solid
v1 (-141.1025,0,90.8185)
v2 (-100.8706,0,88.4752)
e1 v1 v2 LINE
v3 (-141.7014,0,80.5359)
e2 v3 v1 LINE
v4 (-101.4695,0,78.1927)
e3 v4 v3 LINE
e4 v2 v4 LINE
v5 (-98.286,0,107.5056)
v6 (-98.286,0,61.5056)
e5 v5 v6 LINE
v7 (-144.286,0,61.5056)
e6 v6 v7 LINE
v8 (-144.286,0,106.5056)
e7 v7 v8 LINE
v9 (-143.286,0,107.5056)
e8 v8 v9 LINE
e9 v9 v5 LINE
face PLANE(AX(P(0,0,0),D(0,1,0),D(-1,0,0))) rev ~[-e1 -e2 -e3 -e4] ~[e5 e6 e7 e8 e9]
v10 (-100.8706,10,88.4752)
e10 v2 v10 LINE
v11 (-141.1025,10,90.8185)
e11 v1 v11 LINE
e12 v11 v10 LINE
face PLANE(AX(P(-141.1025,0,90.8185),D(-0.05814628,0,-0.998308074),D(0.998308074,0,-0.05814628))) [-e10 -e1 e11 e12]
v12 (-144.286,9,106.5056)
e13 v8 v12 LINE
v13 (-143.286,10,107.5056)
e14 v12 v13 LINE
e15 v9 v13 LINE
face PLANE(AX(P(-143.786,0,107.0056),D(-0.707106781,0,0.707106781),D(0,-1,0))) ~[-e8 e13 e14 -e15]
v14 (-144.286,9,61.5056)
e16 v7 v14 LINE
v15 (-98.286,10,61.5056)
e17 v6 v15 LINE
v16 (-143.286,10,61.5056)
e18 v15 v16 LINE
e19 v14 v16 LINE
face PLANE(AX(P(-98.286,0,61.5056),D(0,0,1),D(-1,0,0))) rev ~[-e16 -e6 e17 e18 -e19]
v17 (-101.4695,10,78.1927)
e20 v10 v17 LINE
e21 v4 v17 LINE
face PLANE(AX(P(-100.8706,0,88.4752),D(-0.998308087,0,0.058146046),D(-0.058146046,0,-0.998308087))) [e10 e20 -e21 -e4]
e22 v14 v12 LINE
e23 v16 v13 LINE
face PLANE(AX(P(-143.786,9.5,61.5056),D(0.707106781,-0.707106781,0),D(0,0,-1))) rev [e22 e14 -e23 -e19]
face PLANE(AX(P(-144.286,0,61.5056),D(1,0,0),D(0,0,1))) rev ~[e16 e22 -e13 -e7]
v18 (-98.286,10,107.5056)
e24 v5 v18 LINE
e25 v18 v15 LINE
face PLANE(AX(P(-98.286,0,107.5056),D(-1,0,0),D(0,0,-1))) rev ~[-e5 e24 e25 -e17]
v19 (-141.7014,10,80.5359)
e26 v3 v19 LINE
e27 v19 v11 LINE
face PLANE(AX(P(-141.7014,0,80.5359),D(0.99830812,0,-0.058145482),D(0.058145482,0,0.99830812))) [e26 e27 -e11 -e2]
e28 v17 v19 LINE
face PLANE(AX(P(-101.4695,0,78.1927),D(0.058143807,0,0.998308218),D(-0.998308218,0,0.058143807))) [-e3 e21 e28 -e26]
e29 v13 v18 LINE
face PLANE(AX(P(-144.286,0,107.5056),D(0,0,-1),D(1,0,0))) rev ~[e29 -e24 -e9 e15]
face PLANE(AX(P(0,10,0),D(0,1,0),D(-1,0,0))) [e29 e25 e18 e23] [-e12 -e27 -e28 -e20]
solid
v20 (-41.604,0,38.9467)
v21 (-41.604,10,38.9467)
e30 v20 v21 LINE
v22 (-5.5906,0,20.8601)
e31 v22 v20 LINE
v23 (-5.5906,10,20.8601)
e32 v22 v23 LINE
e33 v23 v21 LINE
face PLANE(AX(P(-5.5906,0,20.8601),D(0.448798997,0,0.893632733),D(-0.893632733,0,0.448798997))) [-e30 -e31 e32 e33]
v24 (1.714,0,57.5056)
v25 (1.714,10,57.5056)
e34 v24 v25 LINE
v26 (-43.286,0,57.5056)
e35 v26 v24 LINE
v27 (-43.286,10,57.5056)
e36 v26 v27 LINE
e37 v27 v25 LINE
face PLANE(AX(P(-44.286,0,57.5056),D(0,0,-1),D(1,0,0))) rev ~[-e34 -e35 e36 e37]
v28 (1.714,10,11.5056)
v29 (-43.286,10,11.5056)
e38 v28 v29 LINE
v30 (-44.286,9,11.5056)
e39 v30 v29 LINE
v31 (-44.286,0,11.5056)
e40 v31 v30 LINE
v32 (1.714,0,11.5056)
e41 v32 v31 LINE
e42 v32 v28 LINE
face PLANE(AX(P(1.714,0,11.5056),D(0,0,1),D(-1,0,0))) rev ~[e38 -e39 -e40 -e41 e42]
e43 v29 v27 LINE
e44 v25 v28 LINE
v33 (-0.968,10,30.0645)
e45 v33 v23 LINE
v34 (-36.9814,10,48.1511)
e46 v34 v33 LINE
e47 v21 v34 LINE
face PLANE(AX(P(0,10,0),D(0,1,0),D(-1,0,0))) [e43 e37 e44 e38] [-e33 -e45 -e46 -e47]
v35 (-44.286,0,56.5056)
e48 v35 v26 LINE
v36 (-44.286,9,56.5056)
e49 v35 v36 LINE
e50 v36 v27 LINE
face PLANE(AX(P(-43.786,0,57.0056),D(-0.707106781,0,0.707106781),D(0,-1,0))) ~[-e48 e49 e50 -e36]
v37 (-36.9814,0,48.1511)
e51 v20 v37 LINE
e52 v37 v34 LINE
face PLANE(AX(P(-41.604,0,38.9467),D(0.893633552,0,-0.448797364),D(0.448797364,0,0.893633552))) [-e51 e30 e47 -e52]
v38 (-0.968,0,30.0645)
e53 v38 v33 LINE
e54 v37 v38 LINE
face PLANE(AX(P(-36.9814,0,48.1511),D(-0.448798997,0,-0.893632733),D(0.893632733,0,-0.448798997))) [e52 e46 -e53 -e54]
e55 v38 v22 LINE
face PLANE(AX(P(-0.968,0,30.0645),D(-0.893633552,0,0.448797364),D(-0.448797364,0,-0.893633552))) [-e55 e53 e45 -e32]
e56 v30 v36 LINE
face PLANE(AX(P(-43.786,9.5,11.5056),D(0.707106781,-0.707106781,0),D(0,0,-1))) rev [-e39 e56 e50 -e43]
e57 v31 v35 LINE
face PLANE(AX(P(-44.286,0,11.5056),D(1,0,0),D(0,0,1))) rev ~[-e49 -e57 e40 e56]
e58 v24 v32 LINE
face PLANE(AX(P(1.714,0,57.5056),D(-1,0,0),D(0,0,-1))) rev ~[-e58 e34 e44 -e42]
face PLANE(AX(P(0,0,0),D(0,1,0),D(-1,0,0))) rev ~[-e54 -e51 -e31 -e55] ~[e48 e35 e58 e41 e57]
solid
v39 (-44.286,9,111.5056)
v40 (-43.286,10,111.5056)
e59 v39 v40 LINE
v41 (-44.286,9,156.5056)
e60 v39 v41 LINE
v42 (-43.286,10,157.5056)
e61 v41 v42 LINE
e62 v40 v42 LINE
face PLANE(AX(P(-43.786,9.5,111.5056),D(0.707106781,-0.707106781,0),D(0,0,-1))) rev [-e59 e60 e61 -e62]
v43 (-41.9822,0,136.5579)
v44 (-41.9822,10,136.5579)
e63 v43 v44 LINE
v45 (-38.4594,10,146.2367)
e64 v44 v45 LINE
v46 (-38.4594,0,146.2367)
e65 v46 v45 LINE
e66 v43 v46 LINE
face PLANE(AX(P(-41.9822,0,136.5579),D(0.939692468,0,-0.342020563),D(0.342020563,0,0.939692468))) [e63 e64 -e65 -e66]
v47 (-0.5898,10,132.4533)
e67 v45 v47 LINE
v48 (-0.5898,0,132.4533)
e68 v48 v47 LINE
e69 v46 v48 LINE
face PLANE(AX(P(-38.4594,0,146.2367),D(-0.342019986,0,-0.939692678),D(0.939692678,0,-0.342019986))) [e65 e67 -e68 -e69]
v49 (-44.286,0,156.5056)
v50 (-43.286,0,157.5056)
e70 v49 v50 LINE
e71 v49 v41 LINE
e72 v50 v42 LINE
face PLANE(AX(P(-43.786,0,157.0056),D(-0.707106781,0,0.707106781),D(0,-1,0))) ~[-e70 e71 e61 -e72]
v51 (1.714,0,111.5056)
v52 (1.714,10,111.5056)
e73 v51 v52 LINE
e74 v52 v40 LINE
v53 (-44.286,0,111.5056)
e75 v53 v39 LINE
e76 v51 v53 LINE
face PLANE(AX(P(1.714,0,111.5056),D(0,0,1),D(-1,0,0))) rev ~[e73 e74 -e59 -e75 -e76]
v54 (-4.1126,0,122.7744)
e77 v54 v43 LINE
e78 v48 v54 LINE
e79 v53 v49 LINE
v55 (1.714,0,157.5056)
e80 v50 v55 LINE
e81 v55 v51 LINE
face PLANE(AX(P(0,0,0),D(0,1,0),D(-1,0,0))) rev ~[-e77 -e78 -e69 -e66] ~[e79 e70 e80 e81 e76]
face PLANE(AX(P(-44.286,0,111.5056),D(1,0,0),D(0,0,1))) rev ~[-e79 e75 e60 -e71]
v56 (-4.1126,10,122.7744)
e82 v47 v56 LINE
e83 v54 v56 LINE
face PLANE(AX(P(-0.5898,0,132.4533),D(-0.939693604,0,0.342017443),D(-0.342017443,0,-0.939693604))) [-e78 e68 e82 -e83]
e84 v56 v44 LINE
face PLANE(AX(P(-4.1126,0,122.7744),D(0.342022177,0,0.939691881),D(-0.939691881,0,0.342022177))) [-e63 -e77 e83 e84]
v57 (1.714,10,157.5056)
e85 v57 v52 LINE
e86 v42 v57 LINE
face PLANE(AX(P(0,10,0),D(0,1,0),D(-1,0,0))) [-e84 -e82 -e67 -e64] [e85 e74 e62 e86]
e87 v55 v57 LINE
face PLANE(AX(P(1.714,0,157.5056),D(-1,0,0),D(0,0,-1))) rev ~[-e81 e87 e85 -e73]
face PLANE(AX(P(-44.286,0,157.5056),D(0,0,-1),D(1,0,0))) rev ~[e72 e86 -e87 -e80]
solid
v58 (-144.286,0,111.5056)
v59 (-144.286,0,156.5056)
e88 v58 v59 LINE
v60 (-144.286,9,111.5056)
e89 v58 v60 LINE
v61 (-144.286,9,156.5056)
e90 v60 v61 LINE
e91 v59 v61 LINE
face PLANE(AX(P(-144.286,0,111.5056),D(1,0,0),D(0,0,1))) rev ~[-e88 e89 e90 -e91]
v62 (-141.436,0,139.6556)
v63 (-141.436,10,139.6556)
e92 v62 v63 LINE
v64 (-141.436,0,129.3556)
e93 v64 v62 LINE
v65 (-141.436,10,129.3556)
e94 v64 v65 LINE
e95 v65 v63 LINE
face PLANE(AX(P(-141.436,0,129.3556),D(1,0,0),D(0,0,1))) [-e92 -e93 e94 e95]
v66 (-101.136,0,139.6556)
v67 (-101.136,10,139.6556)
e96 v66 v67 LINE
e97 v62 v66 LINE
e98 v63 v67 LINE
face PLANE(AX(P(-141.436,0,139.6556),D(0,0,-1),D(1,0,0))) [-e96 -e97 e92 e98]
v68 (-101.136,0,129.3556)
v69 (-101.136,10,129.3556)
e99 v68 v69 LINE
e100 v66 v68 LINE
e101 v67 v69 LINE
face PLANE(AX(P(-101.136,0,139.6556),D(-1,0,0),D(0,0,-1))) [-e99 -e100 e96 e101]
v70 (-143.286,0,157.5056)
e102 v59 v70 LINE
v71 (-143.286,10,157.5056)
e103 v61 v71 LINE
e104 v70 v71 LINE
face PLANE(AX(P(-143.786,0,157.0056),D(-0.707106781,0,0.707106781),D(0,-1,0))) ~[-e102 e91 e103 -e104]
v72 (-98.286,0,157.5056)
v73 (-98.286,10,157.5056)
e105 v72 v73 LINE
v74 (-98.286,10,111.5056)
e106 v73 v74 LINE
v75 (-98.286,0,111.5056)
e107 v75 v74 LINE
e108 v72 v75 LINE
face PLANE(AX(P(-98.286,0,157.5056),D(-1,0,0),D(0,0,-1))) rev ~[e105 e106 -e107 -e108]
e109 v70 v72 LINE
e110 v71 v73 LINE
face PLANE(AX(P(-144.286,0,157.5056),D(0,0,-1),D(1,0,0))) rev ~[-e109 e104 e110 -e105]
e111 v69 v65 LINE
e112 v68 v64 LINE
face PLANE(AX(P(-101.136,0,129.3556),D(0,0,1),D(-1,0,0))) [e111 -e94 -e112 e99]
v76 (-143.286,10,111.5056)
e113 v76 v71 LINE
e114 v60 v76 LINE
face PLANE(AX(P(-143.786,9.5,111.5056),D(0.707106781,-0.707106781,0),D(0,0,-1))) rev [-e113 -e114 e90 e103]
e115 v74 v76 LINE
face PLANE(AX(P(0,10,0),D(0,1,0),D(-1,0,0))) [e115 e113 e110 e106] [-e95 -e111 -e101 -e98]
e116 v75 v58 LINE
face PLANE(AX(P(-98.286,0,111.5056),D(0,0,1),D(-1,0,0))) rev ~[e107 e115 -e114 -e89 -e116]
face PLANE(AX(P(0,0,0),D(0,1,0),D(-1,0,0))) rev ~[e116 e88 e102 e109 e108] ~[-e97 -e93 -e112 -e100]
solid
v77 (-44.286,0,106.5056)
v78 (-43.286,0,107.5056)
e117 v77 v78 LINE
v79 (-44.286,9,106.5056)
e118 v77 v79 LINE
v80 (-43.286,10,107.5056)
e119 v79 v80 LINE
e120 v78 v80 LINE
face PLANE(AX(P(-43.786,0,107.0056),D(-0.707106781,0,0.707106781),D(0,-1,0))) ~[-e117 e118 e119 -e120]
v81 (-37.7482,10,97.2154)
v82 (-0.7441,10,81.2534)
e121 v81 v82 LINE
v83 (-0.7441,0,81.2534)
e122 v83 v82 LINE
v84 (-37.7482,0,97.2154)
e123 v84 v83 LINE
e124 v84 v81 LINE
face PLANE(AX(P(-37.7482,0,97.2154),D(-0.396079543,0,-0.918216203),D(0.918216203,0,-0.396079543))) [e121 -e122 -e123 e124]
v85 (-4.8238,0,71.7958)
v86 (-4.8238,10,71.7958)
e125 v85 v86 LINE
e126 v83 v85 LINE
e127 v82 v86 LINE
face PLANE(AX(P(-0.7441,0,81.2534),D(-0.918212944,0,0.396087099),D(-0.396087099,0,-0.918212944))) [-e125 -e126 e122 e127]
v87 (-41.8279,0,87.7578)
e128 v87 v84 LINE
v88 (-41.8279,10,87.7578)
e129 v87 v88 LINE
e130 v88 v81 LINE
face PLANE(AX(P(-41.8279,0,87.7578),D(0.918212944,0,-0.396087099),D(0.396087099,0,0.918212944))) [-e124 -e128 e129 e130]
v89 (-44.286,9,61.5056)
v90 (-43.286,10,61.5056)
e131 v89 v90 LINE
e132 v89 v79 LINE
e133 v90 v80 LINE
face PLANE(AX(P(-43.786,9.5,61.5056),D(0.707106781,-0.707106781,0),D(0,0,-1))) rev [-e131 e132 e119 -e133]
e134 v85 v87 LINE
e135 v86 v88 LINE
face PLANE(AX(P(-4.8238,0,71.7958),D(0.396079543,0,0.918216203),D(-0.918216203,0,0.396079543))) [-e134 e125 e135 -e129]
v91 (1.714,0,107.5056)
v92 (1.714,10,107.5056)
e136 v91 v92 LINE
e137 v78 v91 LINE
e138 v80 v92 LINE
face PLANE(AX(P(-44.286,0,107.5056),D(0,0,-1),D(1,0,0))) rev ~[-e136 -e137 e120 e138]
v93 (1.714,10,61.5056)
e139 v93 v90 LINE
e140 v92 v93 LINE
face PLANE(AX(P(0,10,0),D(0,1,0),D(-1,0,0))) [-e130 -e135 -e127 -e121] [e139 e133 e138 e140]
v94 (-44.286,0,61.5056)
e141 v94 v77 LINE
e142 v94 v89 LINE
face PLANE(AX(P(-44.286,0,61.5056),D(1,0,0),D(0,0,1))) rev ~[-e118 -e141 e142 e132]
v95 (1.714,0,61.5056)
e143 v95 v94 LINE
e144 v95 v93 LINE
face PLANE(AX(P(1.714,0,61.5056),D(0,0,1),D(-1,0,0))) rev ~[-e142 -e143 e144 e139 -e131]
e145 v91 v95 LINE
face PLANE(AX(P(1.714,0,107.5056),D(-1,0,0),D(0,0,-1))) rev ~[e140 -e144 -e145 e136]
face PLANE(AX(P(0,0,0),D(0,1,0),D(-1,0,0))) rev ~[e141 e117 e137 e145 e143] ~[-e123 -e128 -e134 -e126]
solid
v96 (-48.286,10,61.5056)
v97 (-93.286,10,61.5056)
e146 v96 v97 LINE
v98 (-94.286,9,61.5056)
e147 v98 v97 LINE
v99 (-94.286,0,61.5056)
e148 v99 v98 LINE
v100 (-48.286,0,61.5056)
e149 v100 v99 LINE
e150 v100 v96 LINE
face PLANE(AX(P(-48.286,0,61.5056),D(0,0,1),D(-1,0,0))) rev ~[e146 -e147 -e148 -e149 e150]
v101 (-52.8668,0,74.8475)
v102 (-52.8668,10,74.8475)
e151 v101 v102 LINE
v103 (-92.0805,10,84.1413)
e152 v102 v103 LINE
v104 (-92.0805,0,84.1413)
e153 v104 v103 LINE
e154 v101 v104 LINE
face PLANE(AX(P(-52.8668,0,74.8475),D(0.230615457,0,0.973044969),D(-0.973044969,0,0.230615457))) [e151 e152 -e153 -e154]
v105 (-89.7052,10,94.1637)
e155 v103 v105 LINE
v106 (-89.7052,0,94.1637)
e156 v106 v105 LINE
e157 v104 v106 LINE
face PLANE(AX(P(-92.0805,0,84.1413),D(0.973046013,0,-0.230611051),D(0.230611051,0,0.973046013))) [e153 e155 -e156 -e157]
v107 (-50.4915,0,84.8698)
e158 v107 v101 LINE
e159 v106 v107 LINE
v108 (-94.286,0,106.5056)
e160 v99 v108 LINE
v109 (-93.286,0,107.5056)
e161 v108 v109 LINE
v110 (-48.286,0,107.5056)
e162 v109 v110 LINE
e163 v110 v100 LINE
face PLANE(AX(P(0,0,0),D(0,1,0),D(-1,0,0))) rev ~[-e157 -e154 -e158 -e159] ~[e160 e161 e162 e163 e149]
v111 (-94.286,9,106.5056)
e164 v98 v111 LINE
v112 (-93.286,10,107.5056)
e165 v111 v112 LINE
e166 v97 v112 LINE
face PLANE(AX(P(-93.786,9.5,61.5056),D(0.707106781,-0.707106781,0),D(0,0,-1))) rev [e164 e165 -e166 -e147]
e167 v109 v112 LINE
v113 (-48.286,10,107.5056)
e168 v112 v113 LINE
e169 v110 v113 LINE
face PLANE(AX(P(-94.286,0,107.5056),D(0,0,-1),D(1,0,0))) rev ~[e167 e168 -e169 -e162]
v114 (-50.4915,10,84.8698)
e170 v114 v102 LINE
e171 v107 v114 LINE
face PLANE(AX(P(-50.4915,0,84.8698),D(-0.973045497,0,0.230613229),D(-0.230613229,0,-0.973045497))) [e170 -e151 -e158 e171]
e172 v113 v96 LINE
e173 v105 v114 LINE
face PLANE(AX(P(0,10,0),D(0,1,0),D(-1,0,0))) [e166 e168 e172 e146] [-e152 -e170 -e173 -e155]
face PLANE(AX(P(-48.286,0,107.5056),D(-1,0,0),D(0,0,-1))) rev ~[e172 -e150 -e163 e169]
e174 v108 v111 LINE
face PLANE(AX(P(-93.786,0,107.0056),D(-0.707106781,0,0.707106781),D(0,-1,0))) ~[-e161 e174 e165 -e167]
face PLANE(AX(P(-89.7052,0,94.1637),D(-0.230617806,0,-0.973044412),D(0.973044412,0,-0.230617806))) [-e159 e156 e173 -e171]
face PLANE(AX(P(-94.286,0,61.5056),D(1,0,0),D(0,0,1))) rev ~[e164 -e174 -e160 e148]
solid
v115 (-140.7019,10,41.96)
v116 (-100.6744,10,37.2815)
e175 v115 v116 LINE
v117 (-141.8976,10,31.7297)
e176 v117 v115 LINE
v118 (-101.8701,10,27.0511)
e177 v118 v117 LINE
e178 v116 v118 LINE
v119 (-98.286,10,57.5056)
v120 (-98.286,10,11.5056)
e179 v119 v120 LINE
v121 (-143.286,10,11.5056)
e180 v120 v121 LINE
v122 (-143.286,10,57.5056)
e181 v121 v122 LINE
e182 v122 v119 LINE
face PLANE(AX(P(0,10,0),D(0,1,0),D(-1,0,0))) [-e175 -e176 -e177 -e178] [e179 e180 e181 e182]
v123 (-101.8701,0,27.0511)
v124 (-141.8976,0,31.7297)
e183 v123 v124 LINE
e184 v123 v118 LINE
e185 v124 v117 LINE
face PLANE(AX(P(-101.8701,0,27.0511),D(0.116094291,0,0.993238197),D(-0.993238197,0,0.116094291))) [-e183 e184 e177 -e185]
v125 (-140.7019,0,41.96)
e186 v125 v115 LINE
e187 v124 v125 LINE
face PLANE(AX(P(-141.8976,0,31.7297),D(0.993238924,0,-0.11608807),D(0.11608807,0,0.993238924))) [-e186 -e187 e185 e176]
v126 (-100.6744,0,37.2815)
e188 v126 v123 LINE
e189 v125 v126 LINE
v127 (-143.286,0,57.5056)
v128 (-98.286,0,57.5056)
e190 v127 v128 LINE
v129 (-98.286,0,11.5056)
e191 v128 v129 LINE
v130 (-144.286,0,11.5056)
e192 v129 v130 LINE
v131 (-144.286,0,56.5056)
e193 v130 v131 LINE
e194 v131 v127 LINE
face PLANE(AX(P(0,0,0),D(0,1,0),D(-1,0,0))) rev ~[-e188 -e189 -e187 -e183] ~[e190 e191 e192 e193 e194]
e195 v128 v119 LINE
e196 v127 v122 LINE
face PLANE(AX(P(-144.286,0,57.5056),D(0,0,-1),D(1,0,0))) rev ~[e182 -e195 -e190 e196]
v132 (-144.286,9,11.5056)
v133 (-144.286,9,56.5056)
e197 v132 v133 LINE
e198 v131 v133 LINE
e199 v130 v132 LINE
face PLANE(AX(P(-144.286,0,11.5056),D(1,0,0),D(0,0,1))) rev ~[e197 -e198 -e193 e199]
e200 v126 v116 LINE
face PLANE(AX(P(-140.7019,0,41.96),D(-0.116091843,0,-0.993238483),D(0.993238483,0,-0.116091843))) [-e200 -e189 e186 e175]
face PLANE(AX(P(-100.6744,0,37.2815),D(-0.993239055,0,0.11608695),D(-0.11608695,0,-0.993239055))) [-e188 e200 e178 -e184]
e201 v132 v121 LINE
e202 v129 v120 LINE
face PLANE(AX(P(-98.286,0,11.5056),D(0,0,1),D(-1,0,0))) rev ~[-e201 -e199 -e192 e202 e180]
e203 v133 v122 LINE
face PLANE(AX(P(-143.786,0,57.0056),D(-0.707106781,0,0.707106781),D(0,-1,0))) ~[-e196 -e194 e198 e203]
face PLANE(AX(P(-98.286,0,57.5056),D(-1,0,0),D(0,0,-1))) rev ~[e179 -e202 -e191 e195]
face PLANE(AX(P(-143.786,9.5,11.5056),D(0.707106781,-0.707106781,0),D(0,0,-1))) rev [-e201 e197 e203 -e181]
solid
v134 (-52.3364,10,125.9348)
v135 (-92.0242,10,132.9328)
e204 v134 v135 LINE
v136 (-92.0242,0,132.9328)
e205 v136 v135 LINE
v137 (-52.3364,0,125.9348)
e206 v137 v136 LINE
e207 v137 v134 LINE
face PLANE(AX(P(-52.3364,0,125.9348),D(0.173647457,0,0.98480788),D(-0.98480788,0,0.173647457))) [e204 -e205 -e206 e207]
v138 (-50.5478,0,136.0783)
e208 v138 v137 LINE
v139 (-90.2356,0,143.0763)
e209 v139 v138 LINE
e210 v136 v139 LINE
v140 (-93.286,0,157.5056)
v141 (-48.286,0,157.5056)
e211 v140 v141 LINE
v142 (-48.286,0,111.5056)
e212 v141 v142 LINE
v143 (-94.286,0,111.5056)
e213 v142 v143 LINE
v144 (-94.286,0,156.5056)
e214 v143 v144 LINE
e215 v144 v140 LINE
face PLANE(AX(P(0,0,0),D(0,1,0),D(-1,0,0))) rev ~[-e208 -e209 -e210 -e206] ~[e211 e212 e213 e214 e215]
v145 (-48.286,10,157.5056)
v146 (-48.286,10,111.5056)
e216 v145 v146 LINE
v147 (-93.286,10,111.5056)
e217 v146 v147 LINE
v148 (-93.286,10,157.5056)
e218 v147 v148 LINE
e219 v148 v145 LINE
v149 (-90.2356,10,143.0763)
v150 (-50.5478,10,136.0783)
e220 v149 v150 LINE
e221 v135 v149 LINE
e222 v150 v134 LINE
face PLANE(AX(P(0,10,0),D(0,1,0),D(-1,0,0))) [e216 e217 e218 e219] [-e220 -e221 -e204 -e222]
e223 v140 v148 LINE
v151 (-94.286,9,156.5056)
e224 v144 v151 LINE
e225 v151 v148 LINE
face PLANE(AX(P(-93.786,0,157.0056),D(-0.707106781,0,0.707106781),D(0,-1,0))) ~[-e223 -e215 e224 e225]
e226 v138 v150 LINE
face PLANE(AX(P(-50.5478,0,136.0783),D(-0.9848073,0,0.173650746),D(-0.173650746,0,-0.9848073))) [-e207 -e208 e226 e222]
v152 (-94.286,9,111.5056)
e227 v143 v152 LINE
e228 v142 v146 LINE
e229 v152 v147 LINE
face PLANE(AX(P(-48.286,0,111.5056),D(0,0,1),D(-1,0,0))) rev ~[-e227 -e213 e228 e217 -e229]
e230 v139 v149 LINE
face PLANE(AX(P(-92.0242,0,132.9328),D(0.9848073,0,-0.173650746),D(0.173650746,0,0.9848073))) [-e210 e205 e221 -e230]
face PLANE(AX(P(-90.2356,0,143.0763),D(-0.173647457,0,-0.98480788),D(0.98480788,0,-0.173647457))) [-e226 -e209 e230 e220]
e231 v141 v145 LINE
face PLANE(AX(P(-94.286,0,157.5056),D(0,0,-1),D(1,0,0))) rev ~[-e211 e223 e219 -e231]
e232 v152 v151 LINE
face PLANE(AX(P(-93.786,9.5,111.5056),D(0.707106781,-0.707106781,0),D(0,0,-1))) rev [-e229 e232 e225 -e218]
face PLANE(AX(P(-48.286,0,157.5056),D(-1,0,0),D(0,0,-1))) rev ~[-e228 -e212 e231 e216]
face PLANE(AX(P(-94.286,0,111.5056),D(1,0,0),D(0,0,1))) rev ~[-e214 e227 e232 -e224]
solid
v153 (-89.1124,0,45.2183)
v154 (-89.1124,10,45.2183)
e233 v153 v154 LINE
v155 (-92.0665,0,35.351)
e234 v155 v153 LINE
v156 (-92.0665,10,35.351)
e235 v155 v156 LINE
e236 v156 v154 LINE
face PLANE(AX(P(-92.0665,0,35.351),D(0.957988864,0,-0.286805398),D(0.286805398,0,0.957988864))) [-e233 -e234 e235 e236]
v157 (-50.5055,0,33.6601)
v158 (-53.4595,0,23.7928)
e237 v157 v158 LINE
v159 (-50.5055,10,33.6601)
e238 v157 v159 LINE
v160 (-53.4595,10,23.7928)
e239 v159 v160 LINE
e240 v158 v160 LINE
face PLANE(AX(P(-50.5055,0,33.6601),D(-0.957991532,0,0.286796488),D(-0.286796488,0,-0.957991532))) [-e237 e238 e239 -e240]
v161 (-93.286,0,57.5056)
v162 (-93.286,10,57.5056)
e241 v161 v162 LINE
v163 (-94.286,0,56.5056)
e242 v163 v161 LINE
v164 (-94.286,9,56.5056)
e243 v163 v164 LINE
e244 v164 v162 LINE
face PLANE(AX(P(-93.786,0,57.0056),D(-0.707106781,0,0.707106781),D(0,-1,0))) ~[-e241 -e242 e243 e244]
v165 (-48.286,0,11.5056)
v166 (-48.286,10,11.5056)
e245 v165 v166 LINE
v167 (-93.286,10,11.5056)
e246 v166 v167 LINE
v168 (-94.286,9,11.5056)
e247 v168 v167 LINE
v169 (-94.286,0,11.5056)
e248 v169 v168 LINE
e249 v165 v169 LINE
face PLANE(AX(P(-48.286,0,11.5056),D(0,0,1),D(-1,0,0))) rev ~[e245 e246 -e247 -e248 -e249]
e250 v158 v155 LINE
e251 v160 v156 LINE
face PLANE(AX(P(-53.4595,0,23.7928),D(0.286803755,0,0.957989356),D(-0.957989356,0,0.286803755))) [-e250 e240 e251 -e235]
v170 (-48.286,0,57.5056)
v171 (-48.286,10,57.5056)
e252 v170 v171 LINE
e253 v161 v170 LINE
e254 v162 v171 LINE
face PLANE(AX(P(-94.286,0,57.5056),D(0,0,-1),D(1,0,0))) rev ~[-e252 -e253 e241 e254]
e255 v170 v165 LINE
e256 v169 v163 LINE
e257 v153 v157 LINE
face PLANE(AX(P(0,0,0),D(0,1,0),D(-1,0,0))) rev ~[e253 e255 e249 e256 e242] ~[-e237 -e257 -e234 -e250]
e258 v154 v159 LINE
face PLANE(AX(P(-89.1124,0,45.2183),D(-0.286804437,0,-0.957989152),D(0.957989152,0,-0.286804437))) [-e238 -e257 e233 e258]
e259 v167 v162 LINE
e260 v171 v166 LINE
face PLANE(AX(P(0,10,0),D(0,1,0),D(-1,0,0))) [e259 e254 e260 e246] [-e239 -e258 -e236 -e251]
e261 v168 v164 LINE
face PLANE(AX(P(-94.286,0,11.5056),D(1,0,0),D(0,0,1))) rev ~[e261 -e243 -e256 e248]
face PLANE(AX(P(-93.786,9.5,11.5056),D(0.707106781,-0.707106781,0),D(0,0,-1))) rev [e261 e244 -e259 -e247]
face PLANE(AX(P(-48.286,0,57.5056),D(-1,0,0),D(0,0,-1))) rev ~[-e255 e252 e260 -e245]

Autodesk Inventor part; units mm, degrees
ref_plane "YZ Plane" through (0, 0, 0) normal (1, 0, 0) x (0, 1, 0)
ref_plane "XZ Plane" through (0, 0, 0) normal (0, 1, 0) x (-1, 0, 0)
ref_plane "XY Plane" through (0, 0, 0) normal (0, 0, 1) x (1, 0, 0)
sketch "Sketch1" plane through (0, 0, 0) normal (0, 1, 0) x (-1, 0, 0)
  line L0 (44.286, 57.5056) -> (-1.714, 57.5056)
  line L1 (-1.714, 57.5056) -> (-1.714, 11.5056)
  line L2 (-1.714, 11.5056) -> (44.286, 11.5056)
  line L3 (44.286, 11.5056) -> (44.286, 57.5056)
  line L4 (21.286, 57.5056) -> (21.286, 11.5056) construction
  line L5 (44.286, 34.5056) -> (-1.714, 34.5056) construction
  line L6 (38.843, 43.323) -> (21.286, 34.5056) construction
  line L7 (21.286, 34.5056) -> (16.7288, 43.5797) construction
  line L8 (41.604, 38.9467) -> (36.9814, 48.1511)
  line L9 (36.9814, 48.1511) -> (0.968, 30.0645)
  line L10 (0.968, 30.0645) -> (5.5906, 20.8601)
  line L11 (5.5906, 20.8601) -> (41.604, 38.9467)
  line L12 (94.286, 57.5056) -> (48.286, 57.5056)
  line L13 (48.286, 57.5056) -> (48.286, 11.5056)
  line L14 (48.286, 11.5056) -> (94.286, 11.5056)
  line L15 (94.286, 11.5056) -> (94.286, 57.5056)
  line L16 (71.286, 57.5056) -> (71.286, 11.5056) construction
  line L17 (94.286, 34.5056) -> (48.286, 34.5056) construction
  line L18 (90.1074, 40.1403) -> (71.286, 34.5056) construction
  line L19 (71.286, 34.5056) -> (68.3737, 44.2332) construction
  line L20 (92.0665, 35.351) -> (89.1124, 45.2183)
  line L21 (89.1124, 45.2183) -> (50.5055, 33.6601)
  line L22 (50.5055, 33.6601) -> (53.4595, 23.7928)
  line L23 (53.4595, 23.7928) -> (92.0665, 35.351)
  line L24 (144.286, 57.5056) -> (98.286, 57.5056)
  line L25 (98.286, 57.5056) -> (98.286, 11.5056)
  line L26 (98.286, 11.5056) -> (144.286, 11.5056)
  line L27 (144.286, 11.5056) -> (144.286, 57.5056)
  line L28 (121.286, 57.5056) -> (121.286, 11.5056) construction
  line L29 (144.286, 34.5056) -> (98.286, 34.5056) construction
  line L30 (140.8, 36.7864) -> (121.286, 34.5056) construction
  line L31 (121.286, 34.5056) -> (120.1072, 44.5911) construction
  line L32 (141.8976, 31.7297) -> (140.7019, 41.96)
  line L33 (140.7019, 41.96) -> (100.6744, 37.2815)
  line L34 (100.6744, 37.2815) -> (101.8701, 27.0511)
  line L35 (101.8701, 27.0511) -> (141.8976, 31.7297)
  line L36 (44.286, 107.5056) -> (-1.714, 107.5056)
  line L37 (-1.714, 107.5056) -> (-1.714, 61.5056)
  line L38 (-1.714, 61.5056) -> (44.286, 61.5056)
  line L39 (44.286, 61.5056) -> (44.286, 107.5056)
  line L40 (21.286, 107.5056) -> (21.286, 61.5056) construction
  line L41 (44.286, 84.5056) -> (-1.714, 84.5056) construction
  line L42 (39.326, 92.2873) -> (21.286, 84.5056) construction
  line L43 (21.286, 84.5056) -> (17.2641, 93.8294) construction
  line L44 (41.8279, 87.7578) -> (37.7482, 97.2154)
  line L45 (37.7482, 97.2154) -> (0.7441, 81.2534)
  line L46 (0.7441, 81.2534) -> (4.8238, 71.7958)
  line L47 (4.8238, 71.7958) -> (41.8279, 87.7578)
  line L48 (44.286, 157.5056) -> (-1.714, 157.5056)
  line L49 (-1.714, 157.5056) -> (-1.714, 111.5056)
  line L50 (-1.714, 111.5056) -> (44.286, 111.5056)
  line L51 (44.286, 111.5056) -> (44.286, 157.5056)
  line L52 (21.286, 157.5056) -> (21.286, 111.5056) construction
  line L53 (44.286, 134.5056) -> (-1.714, 134.5056) construction
  line L54 (39.748, 141.2252) -> (21.286, 134.5056) construction
  line L55 (21.286, 134.5056) -> (17.813, 144.0474) construction
  line L56 (41.9822, 136.5579) -> (38.4594, 146.2367)
  line L57 (38.4594, 146.2367) -> (0.5898, 132.4533)
  line L58 (0.5898, 132.4533) -> (4.1126, 122.7744)
  line L59 (4.1126, 122.7744) -> (41.9822, 136.5579)
  line L60 (94.286, 107.5056) -> (48.286, 107.5056)
  line L61 (48.286, 107.5056) -> (48.286, 61.5056)
  line L62 (48.286, 61.5056) -> (94.286, 61.5056)
  line L63 (94.286, 61.5056) -> (94.286, 107.5056)
  line L64 (71.286, 107.5056) -> (71.286, 61.5056) construction
  line L65 (94.286, 84.5056) -> (48.286, 84.5056) construction
  line L66 (90.4032, 89.0364) -> (71.286, 84.5056) construction
  line L67 (71.286, 84.5056) -> (68.9443, 94.3861) construction
  line L68 (92.0805, 84.1413) -> (89.7052, 94.1637)
  line L69 (89.7052, 94.1637) -> (50.4915, 84.8698)
  line L70 (50.4915, 84.8698) -> (52.8668, 74.8475)
  line L71 (52.8668, 74.8475) -> (92.0805, 84.1413)
  line L72 (94.286, 157.5056) -> (48.286, 157.5056)
  line L73 (48.286, 157.5056) -> (48.286, 111.5056)
  line L74 (48.286, 111.5056) -> (94.286, 111.5056)
  line L75 (94.286, 111.5056) -> (94.286, 157.5056)
  line L76 (71.286, 157.5056) -> (71.286, 111.5056) construction
  line L77 (94.286, 134.5056) -> (48.286, 134.5056) construction
  line L78 (90.6343, 137.9172) -> (71.286, 134.5056) construction
  line L79 (71.286, 134.5056) -> (69.5227, 144.5055) construction
  line L80 (92.0242, 132.9328) -> (90.2356, 143.0763)
  line L81 (90.2356, 143.0763) -> (50.5478, 136.0783)
  line L82 (50.5478, 136.0783) -> (52.3364, 125.9348)
  line L83 (52.3364, 125.9348) -> (92.0242, 132.9328)
  line L84 (144.286, 107.5056) -> (98.286, 107.5056)
  line L85 (98.286, 107.5056) -> (98.286, 61.5056)
  line L86 (98.286, 61.5056) -> (144.286, 61.5056)
  line L87 (144.286, 61.5056) -> (144.286, 107.5056)
  line L88 (121.286, 107.5056) -> (121.286, 61.5056) construction
  line L89 (144.286, 84.5056) -> (98.286, 84.5056) construction
  line L90 (140.8996, 85.6479) -> (121.286, 84.5056) construction
  line L91 (121.286, 84.5056) -> (120.6956, 94.6426) construction
  line L92 (141.7014, 80.5359) -> (141.1025, 90.8185)
  line L93 (141.1025, 90.8185) -> (100.8706, 88.4752)
  line L94 (100.8706, 88.4752) -> (101.4695, 78.1927)
  line L95 (101.4695, 78.1927) -> (141.7014, 80.5359)
  line L96 (144.286, 157.5056) -> (98.286, 157.5056)
  line L97 (98.286, 157.5056) -> (98.286, 111.5056)
  line L98 (98.286, 111.5056) -> (144.286, 111.5056)
  line L99 (144.286, 111.5056) -> (144.286, 157.5056)
  line L100 (121.286, 157.5056) -> (121.286, 111.5056) construction
  line L101 (144.286, 134.5056) -> (98.286, 134.5056) construction
  line L102 (140.9328, 134.5056) -> (121.286, 134.5056) construction
  line L103 (121.286, 134.5056) -> (121.286, 144.6598) construction
  line L104 (141.436, 129.3556) -> (141.436, 139.6556)
  line L105 (141.436, 139.6556) -> (101.136, 139.6556)
  line L106 (101.136, 139.6556) -> (101.136, 129.3556)
  line L107 (101.136, 129.3556) -> (141.436, 129.3556)
  dimension "w" = 46
  dimension "d65" = 46
  dimension "d" = 10.3
  dimension "d67" = 40.3
  dimension "d68" = 26.667
  dimension "d69" = 46
  dimension "d70" = 46
  dimension "d71" = 10.3
  dimension "d72" = 40.3
  dimension "d73" = 16.667
  dimension "d76" = 46
  dimension "d77" = 46
  dimension "d78" = 10.3
  dimension "d79" = 40.3
  dimension "d80" = 6.667
  dimension "d83" = 46
  dimension "d84" = 46
  dimension "d85" = 10.3
  dimension "d86" = 40.3
  dimension "d87" = 23.333
  dimension "d90" = 46
  dimension "d91" = 46
  dimension "d92" = 10.3
  dimension "d93" = 40.3
  dimension "d94" = 20
  dimension "d97" = 46
  dimension "d98" = 46
  dimension "d99" = 10.3
  dimension "d100" = 40.3
  dimension "d101" = 13.333
  dimension "d104" = 46
  dimension "d105" = 46
  dimension "d106" = 10.3
  dimension "d107" = 40.3
  dimension "d108" = 10
  dimension "d111" = 46
  dimension "d112" = 46
  dimension "d113" = 10.3
  dimension "d114" = 40.3
  dimension "d115" = 3.333
  dimension "d118" = 46
  dimension "d119" = 46
  dimension "d120" = 10.3
  dimension "d121" = 40.3
  dimension "d122" = 0
extrude "Extrusion1" add sketch "Sketch1" along normal blind 10
chamfer "Chamfer1" distance 1 angle 45 18 edges at (-144.286, 10, 134.5056) (-144.286, 10, 84.5056) (-144.286, 10, 34.5056) (-94.286, 10, 134.5056) (-94.286, 10, 84.5056) (-94.286, 10, 34.5056) (-44.286, 10, 34.5056) (-44.286, 10, 84.5056) (-44.286, 10, 134.5056) (-144.286, 5, 157.5056) (-144.286, 5, 107.5056) (-144.286, 5, 57.5056) (-94.286, 5, 157.5056) (-94.286, 5, 107.5056) (-94.286, 5, 57.5056) (-44.286, 5, 157.5056) (-44.286, 5, 107.5056) (-44.286, 5, 57.5056)
equation "\"d68\" = a0 + 8 * ad"
equation "\"d73\" = a0 + 5 * ad"
equation "\"d80\" = a0 + 2 * ad"
equation "\"d87\" = a0 + 7 * ad"
equation "\"d94\" = a0 + 6 * ad"
equation "\"d101\" = a0 + 4 * ad"
equation "\"d108\" = a0 + 3 * ad"
equation "\"d115\" = a0 + ad"
equation "\"d122\" = a0 + 0 * ad"
equation "\"ad\" = 3.33333deg"
equation "\"d74\" = 0 * d75"
equation "\"d75\" = 3.333333deg"
equation "\"d81\" = 0 * d82"
equation "\"d82\" = 3.333333deg"
equation "\"d88\" = 0 * d89"
equation "\"d89\" = 3.333333deg"
equation "\"d95\" = 0 * d96"
equation "\"d96\" = 3.333333deg"
equation "\"d102\" = 0 * d103"
equation "\"d103\" = 3.333333deg"
equation "\"d109\" = 0 * d110"
equation "\"d110\" = 3.333333deg"
equation "\"d116\" = 0 * d117"
equation "\"d117\" = 3.333333deg"
equation "\"d123\" = 0 * d124"
equation "\"d124\" = 3.333333deg"
equation "\"offset\" = 0"
equation "\"a0\" = 0deg"
properties part number "magnet-54-offset-0"
